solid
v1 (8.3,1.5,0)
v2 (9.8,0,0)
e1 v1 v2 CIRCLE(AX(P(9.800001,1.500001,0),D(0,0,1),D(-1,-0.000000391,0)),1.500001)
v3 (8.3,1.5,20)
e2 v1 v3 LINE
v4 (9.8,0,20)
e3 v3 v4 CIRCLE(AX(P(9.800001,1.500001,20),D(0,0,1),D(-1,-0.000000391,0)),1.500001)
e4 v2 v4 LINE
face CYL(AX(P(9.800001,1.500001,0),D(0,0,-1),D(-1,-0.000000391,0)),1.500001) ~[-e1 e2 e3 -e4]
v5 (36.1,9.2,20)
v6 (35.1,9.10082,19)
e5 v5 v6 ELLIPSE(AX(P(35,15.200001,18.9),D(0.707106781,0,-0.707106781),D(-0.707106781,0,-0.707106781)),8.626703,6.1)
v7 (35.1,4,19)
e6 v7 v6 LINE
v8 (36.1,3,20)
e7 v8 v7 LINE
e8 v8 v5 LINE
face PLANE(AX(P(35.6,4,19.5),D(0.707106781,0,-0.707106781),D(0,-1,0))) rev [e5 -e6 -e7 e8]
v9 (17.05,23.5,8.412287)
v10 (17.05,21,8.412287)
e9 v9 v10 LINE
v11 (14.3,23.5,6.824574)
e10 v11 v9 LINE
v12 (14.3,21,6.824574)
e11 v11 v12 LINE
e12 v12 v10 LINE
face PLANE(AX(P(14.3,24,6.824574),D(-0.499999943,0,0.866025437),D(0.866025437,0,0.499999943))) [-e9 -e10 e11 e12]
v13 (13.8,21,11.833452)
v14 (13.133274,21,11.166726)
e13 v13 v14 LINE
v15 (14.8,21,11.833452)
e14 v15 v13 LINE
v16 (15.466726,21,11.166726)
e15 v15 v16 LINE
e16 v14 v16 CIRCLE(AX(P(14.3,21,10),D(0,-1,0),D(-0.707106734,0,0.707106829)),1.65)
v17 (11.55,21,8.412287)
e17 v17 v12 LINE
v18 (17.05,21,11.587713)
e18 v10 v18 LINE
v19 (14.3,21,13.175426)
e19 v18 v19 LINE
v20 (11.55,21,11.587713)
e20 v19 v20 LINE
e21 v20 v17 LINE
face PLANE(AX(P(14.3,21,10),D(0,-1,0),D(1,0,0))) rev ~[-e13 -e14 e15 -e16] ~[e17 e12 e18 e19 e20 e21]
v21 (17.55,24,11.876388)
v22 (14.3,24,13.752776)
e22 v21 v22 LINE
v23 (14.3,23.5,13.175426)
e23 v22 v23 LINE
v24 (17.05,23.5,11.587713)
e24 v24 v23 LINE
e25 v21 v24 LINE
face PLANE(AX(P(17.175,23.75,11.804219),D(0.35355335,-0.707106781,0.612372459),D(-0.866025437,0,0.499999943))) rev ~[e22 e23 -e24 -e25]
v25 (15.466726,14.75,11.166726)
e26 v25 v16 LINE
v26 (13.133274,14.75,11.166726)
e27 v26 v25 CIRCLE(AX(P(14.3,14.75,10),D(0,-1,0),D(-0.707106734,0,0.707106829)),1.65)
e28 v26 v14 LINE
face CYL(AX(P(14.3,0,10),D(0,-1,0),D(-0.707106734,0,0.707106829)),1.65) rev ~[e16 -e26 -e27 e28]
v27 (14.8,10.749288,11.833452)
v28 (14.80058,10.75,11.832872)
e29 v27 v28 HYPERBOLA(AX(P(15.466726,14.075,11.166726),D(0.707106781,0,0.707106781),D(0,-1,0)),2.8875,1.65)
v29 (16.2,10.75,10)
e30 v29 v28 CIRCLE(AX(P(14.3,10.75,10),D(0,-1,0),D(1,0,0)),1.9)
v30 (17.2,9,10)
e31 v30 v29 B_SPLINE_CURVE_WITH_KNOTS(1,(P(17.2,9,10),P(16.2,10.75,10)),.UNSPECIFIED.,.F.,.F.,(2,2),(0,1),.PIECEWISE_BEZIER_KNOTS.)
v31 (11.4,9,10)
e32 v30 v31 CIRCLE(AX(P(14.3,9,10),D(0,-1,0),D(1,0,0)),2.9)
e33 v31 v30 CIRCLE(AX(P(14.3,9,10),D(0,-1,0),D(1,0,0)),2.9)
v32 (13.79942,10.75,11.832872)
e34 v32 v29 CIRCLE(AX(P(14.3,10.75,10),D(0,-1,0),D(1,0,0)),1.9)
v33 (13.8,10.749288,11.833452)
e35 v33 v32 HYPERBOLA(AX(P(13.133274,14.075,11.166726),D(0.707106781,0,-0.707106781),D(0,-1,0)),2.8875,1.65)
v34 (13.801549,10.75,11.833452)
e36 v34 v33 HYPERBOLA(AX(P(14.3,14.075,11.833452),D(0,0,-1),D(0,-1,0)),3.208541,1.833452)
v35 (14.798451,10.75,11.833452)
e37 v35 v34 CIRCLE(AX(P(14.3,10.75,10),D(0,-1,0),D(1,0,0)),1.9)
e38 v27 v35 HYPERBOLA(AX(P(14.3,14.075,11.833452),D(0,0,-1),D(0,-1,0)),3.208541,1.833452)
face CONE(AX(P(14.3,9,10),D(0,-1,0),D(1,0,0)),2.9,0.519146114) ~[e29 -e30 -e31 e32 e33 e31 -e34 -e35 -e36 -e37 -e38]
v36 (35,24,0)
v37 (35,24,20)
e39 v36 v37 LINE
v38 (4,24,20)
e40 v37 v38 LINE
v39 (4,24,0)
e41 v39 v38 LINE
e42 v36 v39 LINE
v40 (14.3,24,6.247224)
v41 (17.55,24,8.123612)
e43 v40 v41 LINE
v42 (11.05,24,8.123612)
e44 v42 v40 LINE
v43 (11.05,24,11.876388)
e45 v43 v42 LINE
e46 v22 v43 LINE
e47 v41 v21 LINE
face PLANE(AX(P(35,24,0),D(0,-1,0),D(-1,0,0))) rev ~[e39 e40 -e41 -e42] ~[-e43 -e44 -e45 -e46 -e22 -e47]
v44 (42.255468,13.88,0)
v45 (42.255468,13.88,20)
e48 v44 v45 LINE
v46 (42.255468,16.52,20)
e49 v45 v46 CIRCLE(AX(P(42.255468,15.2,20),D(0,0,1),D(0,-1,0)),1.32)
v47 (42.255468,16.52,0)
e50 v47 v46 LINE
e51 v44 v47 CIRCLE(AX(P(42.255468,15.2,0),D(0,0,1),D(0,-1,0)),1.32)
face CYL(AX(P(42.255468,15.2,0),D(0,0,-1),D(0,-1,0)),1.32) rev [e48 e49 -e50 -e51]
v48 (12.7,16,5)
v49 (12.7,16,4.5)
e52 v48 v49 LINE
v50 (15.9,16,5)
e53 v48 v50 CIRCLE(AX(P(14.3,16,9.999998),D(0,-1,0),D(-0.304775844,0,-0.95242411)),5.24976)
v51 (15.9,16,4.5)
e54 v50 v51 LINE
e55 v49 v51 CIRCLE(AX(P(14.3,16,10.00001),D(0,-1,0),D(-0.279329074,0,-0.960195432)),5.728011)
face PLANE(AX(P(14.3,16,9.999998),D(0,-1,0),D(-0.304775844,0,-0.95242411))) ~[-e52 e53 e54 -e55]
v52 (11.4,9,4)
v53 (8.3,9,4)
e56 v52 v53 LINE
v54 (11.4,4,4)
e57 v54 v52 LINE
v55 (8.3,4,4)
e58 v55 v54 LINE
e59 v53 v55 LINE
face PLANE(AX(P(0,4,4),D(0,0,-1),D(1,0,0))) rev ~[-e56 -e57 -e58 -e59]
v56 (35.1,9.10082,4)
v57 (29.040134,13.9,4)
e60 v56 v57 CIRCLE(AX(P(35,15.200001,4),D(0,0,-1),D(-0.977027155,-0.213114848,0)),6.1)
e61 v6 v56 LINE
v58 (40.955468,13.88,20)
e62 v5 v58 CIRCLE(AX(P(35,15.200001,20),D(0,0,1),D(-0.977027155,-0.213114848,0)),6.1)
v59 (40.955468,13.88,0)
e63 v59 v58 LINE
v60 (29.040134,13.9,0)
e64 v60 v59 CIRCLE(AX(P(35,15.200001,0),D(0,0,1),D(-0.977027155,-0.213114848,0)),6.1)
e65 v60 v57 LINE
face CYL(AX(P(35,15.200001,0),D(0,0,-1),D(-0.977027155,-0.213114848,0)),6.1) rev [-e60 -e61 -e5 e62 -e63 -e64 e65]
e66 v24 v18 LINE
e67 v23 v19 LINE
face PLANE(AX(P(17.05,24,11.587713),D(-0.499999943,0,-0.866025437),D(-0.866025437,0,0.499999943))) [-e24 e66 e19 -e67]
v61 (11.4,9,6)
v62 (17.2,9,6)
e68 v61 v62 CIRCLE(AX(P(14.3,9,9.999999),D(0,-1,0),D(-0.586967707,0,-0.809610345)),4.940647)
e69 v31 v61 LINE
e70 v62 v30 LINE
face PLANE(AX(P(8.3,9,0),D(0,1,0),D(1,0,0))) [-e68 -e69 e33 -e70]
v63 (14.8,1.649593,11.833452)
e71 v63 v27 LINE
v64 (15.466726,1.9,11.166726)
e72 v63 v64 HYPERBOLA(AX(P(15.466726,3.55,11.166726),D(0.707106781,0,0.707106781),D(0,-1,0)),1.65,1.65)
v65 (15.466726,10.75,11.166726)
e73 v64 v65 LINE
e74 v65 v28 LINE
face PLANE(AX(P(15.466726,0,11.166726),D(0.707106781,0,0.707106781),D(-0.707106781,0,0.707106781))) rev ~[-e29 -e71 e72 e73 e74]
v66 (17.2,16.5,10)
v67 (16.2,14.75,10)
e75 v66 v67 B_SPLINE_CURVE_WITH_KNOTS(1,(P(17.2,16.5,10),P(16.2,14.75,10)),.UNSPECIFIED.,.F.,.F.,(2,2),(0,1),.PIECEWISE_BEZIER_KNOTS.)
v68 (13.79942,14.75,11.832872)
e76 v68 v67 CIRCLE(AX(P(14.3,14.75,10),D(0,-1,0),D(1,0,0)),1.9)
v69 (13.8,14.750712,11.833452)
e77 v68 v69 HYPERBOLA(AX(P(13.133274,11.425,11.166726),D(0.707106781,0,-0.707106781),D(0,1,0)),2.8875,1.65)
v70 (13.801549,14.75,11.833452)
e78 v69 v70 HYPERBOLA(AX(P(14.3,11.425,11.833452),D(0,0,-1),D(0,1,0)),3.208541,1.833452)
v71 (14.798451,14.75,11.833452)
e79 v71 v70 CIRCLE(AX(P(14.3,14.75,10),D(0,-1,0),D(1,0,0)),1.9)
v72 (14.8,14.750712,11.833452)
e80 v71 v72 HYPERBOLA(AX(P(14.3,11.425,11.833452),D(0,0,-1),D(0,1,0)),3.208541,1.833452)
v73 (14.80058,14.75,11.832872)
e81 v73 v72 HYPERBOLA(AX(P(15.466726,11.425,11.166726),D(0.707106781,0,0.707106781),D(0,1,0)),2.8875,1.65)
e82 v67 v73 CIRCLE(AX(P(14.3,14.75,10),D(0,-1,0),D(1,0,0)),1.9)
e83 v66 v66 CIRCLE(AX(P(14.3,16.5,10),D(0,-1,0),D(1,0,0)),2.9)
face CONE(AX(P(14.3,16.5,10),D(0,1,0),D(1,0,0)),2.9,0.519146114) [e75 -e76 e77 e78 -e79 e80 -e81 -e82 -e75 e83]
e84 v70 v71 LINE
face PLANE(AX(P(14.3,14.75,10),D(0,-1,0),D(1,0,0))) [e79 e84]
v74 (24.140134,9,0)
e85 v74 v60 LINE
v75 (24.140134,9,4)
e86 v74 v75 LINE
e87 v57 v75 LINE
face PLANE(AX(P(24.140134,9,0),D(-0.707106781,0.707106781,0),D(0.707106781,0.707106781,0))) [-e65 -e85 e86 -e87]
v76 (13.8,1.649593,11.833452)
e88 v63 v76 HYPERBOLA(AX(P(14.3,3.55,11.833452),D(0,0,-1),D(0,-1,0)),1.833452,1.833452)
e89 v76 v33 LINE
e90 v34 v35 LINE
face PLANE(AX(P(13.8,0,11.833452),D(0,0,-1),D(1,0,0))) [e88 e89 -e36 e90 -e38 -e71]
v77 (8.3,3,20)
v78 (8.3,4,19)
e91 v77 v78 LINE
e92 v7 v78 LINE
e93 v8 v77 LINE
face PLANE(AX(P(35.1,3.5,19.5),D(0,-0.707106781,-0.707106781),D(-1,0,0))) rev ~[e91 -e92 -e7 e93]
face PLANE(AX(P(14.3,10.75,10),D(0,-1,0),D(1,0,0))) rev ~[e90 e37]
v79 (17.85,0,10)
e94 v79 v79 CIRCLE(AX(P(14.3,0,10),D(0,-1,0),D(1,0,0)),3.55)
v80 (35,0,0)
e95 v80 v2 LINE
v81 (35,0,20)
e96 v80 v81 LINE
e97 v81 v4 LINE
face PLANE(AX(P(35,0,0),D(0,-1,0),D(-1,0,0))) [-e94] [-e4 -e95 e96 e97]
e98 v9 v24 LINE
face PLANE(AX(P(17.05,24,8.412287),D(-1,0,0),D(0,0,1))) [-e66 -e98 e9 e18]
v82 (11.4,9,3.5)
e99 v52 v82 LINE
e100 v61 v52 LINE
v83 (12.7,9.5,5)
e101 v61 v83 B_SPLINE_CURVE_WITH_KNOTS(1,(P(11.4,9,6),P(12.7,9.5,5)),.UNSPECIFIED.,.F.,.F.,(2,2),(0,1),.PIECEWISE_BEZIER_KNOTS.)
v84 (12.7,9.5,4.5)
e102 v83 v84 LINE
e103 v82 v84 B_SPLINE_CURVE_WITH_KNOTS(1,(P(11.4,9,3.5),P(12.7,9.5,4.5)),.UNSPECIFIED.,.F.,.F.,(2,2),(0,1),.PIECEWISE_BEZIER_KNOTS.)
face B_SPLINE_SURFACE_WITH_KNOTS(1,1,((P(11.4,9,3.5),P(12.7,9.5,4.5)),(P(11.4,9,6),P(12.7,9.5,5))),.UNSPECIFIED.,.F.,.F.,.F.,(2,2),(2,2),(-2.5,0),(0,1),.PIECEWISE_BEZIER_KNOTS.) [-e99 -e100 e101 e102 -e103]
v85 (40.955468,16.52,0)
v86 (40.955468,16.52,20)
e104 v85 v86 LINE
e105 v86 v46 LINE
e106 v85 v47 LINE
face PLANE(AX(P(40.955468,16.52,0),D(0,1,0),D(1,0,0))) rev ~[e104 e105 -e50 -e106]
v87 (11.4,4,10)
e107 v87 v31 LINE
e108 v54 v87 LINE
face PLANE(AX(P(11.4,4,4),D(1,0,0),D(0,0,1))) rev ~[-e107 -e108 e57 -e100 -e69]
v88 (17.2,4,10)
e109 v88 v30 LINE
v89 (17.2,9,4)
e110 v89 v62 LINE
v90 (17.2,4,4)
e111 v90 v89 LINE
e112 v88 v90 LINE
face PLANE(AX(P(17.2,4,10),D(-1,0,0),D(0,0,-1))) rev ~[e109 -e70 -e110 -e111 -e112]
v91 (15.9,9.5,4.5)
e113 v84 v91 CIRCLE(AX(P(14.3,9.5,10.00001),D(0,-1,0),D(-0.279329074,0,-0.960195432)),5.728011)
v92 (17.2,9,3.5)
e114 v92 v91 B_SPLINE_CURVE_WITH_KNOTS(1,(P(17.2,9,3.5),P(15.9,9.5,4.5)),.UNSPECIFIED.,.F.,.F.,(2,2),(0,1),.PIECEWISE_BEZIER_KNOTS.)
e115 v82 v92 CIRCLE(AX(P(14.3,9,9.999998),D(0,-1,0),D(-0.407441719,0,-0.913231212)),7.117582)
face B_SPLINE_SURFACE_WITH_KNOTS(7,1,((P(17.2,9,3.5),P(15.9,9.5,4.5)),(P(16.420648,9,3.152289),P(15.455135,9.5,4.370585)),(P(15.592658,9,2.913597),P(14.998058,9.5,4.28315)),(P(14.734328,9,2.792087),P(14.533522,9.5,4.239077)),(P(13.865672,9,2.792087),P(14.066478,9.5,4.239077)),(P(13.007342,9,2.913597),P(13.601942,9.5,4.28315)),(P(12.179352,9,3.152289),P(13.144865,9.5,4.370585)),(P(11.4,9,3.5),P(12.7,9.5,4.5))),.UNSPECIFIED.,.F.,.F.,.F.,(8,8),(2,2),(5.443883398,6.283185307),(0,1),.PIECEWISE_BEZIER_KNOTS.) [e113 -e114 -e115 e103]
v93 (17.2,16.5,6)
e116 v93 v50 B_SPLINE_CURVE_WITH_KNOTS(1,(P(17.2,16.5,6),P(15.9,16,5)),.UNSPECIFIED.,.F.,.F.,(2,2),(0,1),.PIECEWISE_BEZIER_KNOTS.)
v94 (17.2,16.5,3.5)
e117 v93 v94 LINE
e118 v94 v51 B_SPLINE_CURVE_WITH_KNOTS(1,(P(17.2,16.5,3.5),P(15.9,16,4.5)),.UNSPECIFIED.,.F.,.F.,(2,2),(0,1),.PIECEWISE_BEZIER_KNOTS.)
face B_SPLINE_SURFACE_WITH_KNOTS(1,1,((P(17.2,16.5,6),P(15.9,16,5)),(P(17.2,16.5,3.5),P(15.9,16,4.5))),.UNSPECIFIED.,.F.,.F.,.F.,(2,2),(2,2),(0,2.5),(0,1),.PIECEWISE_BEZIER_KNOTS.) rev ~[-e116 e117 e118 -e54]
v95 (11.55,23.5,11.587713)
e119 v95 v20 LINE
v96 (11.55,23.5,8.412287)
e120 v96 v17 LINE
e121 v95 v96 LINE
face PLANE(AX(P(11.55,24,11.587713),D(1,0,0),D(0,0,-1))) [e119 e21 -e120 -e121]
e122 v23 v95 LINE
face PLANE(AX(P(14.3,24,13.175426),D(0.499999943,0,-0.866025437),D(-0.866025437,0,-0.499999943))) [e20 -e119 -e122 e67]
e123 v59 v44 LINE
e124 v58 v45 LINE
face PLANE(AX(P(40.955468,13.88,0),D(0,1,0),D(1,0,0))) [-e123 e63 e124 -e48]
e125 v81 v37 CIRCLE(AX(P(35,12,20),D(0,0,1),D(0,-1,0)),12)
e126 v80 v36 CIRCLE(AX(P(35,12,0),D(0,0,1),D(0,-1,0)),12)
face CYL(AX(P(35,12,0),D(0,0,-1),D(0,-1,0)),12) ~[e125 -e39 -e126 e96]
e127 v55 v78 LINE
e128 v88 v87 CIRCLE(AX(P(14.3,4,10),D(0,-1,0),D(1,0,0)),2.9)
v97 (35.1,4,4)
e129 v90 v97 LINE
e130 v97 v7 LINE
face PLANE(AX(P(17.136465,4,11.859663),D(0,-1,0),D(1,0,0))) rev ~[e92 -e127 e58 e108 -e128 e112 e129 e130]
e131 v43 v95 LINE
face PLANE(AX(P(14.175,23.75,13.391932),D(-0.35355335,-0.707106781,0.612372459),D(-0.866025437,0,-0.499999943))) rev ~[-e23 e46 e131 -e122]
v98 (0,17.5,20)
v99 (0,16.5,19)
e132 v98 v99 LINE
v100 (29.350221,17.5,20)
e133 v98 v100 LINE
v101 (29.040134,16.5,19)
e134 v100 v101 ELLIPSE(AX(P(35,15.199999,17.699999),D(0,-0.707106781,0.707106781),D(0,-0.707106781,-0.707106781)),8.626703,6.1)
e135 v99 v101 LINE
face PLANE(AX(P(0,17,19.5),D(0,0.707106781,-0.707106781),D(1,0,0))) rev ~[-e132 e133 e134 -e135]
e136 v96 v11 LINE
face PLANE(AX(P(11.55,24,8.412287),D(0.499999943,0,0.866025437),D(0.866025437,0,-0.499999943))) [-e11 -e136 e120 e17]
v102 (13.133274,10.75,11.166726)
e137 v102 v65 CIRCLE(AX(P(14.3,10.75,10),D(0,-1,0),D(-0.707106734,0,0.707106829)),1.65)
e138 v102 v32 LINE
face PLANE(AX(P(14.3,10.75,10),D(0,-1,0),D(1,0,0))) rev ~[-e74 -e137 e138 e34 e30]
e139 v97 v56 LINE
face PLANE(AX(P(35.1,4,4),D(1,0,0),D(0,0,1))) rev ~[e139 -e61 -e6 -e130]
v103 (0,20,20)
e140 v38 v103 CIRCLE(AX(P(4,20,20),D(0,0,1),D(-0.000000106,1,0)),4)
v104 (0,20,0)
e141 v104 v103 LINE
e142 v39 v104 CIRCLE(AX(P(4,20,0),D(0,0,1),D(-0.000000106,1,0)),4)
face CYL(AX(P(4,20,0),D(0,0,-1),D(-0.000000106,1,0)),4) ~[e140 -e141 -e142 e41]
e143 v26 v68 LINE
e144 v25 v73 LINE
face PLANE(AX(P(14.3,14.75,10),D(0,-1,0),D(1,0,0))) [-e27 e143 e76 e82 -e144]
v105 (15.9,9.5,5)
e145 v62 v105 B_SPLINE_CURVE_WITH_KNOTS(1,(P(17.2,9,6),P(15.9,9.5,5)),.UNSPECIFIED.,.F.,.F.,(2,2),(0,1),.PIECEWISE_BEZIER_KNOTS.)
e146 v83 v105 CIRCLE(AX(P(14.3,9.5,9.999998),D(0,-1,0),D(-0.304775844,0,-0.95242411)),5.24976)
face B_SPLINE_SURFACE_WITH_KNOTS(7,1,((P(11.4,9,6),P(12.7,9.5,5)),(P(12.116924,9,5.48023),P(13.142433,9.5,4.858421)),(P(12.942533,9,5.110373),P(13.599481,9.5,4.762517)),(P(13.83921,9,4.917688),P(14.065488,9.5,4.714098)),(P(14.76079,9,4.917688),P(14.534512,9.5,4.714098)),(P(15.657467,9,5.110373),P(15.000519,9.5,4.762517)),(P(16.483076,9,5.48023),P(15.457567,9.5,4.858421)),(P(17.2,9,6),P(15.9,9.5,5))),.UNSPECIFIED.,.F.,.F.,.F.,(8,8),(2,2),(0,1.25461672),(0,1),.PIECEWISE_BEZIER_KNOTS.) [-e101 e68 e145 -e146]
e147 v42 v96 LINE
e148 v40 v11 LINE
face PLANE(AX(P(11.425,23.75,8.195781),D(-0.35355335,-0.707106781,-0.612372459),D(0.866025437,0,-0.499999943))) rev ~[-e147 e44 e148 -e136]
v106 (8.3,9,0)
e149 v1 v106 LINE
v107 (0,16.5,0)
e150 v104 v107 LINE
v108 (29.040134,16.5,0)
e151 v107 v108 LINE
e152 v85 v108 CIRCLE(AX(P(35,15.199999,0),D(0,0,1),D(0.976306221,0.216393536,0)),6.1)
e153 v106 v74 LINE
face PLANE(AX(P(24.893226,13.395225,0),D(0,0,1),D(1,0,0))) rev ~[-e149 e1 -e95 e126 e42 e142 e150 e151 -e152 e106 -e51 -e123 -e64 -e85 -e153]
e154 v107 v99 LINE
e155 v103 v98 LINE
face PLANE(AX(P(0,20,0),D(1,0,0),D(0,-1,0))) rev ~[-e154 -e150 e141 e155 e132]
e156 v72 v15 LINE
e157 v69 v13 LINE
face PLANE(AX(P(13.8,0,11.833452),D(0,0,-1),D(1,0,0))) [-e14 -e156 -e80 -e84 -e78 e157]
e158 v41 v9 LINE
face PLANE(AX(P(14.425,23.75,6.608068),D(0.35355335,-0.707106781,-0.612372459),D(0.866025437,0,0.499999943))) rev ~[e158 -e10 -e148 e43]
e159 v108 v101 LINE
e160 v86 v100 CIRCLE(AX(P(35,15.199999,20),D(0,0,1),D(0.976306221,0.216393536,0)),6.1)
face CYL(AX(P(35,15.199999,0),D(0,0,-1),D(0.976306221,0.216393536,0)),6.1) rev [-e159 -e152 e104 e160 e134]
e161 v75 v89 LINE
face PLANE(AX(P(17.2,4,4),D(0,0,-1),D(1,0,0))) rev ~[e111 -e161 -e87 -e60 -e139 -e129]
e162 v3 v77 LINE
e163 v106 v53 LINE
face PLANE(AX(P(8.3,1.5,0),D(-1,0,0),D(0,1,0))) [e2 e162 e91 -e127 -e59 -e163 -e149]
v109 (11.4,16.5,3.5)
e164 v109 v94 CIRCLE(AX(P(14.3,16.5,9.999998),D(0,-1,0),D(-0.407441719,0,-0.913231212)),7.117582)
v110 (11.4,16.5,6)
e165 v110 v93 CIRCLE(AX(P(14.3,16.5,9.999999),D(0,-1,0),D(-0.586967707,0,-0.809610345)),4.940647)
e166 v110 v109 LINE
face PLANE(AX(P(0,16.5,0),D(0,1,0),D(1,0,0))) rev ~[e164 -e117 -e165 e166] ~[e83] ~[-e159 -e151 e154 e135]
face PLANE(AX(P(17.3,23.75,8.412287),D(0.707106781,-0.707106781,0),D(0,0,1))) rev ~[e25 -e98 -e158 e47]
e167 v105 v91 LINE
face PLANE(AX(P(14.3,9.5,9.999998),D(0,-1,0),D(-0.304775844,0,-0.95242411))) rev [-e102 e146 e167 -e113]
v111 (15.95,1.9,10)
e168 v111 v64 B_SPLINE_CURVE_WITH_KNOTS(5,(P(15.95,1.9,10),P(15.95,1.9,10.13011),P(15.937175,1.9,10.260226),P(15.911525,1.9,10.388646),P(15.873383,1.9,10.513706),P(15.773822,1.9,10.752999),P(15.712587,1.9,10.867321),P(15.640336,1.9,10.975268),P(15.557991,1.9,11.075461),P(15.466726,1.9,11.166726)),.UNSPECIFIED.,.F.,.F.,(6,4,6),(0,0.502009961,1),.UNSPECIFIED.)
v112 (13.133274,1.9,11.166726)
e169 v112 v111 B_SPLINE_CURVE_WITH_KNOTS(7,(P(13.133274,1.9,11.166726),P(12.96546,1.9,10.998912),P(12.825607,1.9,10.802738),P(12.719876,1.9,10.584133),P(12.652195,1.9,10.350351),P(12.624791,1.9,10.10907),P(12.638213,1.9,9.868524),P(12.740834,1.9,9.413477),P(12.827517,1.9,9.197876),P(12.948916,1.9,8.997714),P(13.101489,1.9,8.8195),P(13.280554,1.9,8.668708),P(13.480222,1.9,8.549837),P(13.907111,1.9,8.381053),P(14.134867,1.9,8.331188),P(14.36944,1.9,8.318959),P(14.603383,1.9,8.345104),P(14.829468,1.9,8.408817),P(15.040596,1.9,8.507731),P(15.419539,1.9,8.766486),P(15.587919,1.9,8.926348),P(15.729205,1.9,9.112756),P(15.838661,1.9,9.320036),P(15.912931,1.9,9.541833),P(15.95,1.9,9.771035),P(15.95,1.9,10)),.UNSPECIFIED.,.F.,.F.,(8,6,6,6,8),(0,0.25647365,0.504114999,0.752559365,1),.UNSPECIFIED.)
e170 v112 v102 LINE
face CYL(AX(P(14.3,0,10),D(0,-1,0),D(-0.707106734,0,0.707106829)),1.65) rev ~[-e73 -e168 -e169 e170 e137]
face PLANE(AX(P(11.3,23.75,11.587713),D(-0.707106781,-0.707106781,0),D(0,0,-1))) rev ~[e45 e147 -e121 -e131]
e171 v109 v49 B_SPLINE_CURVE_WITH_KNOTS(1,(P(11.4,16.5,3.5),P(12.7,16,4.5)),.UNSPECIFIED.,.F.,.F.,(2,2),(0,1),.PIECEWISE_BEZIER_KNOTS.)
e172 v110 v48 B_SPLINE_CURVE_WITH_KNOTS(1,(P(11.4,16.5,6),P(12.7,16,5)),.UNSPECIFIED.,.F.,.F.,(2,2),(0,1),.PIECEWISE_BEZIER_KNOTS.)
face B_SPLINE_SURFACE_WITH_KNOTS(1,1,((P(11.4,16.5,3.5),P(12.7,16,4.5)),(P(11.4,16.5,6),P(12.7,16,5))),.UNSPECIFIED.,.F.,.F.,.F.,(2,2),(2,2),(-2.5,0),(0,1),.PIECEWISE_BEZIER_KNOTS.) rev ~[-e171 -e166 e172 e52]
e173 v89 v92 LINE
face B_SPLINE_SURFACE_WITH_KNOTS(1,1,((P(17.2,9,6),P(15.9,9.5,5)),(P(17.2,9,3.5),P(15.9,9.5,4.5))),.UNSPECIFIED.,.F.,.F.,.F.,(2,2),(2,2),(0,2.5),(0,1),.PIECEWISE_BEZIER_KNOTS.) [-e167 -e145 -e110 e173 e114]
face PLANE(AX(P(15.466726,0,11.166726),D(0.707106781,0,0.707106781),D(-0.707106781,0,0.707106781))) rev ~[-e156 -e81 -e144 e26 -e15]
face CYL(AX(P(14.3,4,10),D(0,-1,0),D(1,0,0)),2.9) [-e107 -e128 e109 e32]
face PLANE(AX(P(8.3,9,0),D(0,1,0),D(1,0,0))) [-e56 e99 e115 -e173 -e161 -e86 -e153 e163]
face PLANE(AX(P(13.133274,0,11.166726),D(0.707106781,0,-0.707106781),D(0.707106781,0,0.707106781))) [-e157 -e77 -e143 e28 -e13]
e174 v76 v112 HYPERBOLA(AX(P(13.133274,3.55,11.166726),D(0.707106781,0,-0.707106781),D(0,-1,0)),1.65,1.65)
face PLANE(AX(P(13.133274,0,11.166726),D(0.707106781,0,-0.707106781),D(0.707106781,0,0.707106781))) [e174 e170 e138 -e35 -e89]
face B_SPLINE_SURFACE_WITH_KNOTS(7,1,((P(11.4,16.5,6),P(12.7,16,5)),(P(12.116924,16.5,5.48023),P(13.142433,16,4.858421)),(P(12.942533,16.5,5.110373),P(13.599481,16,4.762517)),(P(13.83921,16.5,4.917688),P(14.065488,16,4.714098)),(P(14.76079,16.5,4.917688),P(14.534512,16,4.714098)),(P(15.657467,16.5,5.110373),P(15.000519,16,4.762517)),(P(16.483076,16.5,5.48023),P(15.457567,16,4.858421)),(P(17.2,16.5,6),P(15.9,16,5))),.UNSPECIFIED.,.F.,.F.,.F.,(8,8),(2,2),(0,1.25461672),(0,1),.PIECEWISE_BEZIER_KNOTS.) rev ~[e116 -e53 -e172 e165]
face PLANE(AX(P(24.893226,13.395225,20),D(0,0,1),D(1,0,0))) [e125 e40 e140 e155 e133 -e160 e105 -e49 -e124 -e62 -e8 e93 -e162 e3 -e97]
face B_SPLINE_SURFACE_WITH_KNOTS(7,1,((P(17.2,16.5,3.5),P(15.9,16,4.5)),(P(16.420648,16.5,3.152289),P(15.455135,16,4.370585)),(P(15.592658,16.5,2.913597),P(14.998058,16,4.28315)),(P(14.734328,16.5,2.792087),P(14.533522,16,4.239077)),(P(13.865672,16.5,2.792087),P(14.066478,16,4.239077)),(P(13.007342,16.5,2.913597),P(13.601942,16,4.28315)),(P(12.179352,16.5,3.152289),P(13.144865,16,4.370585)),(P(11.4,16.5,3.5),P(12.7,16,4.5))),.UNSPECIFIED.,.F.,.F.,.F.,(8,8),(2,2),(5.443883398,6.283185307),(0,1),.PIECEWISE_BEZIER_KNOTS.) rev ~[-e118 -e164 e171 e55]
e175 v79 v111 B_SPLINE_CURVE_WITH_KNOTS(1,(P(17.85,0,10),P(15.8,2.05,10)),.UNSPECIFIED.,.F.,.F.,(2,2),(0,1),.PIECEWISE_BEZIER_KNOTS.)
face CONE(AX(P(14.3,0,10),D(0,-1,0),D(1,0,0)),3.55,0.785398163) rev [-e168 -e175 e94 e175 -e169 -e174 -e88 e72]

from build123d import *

# Parameters (mm, degrees)
PAD_DEPTH       = 20
POCKET_DEPTH    = 12
SKETCH002_R     = 2.9
SKETCH003_R     = 1.9
SKETCH004_R     = 2.9
SKETCH005_R     = 1.9
POCKET001_DEPTH = 24.001
POCKET002_DEPTH = 3
SKETCH012_R     = 3.55
SKETCH013_R     = 1.5
CHAMFER_SIZE    = 0.5
CHAMFER001_SIZE = 1


with BuildPart() as part:
    # Sketch → Pad (new body)
    with BuildSketch(Plane.XY):
        with BuildLine():
            ThreePointArc((35, 0), (47, 12), (35, 24))
            Line((35, 24), (4, 24))
            ThreePointArc((4, 24), (1.171573, 22.828427), (0, 20))
            Line((0, 20), (0, 16.5))
            Line((0, 16.5), (29.040134, 16.5))
            ThreePointArc((40.955468, 16.52), (34.989761, 21.299991), (29.040134, 16.5))
            Line((40.955468, 16.52), (42.255468, 16.52))
            ThreePointArc((42.255468, 13.88), (43.575468, 15.2), (42.255468, 16.52))
            Line((40.955468, 13.88), (42.255468, 13.88))
            ThreePointArc((29.040134, 13.9), (34.989761, 9.100009), (40.955468, 13.88))
            Line((24.140134, 9), (29.040134, 13.9))
            Line((8.3, 9), (24.140134, 9))
            Line((8.3, 1.5), (8.3, 9))
            ThreePointArc((8.3, 1.5), (8.73934, 0.43934), (9.8, 0))
            Line((35, 0), (9.8, 0))
        make_face()
    extrude(amount=PAD_DEPTH)

    # Sketch001 → Pocket (cut)
    with BuildSketch(Plane.XZ.offset(-4)):
        with BuildLine():
            Line((17.2, 10), (17.2, 4))
            Line((17.2, 4), (35.1, 4))
            Line((35.1, 4), (35.1, 20))
            Line((35.1, 20), (0, 20))
            Line((0, 20), (0, 4))
            Line((0, 4), (11.4, 4))
            Line((11.4, 4), (11.4, 10))
            ThreePointArc((17.2, 10), (14.3, 12.9), (11.4, 10))
        make_face()
    extrude(amount=-POCKET_DEPTH, mode=Mode.SUBTRACT)

    # Sketch002 → AdditiveLoft section 0
    with BuildSketch(Plane.XZ.offset(-9)):
        with Locations((14.3, 10)):
            Circle(SKETCH002_R)
    # Sketch003 → AdditiveLoft section 1
    with BuildSketch(Plane.XZ.offset(-10.75)):
        with Locations((14.3, 10)):
            Circle(SKETCH003_R)
    loft()

    # Sketch004 → AdditiveLoft001 section 0
    with BuildSketch(Plane.XZ.offset(-16.5)):
        with Locations((14.3, 10)):
            Circle(SKETCH004_R)
    # Sketch005 → AdditiveLoft001 section 1
    with BuildSketch(Plane.XZ.offset(-14.75)):
        with Locations((14.3, 10)):
            Circle(SKETCH005_R)
    loft()

    # Sketch006 → AdditiveLoft002 section 0
    with BuildSketch(Plane.XZ.offset(-9)):
        with BuildLine():
            ThreePointArc((11.4, 6), (14.3, 5.059352), (17.2, 6))
            Line((17.2, 6), (17.2, 3.5))
            ThreePointArc((11.4, 3.5), (14.3, 2.882416), (17.2, 3.5))
            Line((11.4, 6), (11.4, 3.5))
        make_face()
    # Sketch007 → AdditiveLoft002 section 1
    with BuildSketch(Plane.XZ.offset(-9.5)):
        with BuildLine():
            ThreePointArc((12.7, 5), (14.3, 4.750238), (15.9, 5))
            Line((15.9, 5), (15.9, 4.5))
            ThreePointArc((12.7, 4.5), (14.3, 4.271999), (15.9, 4.5))
            Line((12.7, 5), (12.7, 4.5))
        make_face()
    loft()

    # Sketch008 → AdditiveLoft003 section 0
    with BuildSketch(Plane.XZ.offset(-16.5)):
        with BuildLine():
            ThreePointArc((11.4, 6), (14.3, 5.059352), (17.2, 6))
            Line((17.2, 6), (17.2, 3.5))
            ThreePointArc((11.4, 3.5), (14.3, 2.882416), (17.2, 3.5))
            Line((11.4, 6), (11.4, 3.5))
        make_face()
    # Sketch009 → AdditiveLoft003 section 1
    with BuildSketch(Plane.XZ.offset(-16)):
        with BuildLine():
            ThreePointArc((12.7, 5), (14.3, 4.750238), (15.9, 5))
            Line((15.9, 5), (15.9, 4.5))
            ThreePointArc((12.7, 4.5), (14.3, 4.271999), (15.9, 4.5))
            Line((12.7, 5), (12.7, 4.5))
        make_face()
    loft()

    # Sketch010 → Pocket001 (cut, through all)
    with BuildSketch(Plane.XZ):
        with BuildLine():
            ThreePointArc((13.133274, 11.166726), (14.3, 8.35), (15.466726, 11.166726))
            Line((15.466726, 11.166726), (14.8, 11.833452))
            Line((13.8, 11.833452), (14.8, 11.833452))
            Line((13.133274, 11.166726), (13.8, 11.833452))
        make_face()
    extrude(amount=-POCKET001_DEPTH, mode=Mode.SUBTRACT)

    # Sketch011 → Pocket002 (cut)
    with BuildSketch(Plane.XZ.offset(-24)):
        Polygon((11.55, 11.587713), (11.55, 8.412287), (14.3, 6.824574), (17.05, 8.412287), (17.05, 11.587713), (14.3, 13.175426), align=None)
    extrude(amount=POCKET002_DEPTH, mode=Mode.SUBTRACT)

    # Sketch012 → SubtractiveLoft section 0
    with BuildSketch(Plane.XZ):
        with Locations((14.3, 10)):
            Circle(SKETCH012_R)
    # Sketch013 → SubtractiveLoft section 1
    with BuildSketch(Plane.XZ.offset(-2.05)):
        with Locations((14.3, 10)):
            Circle(SKETCH013_R)
    loft(mode=Mode.SUBTRACT)

    # Chamfer
    chamfer_edges = [part.edges().sort_by_distance(p)[0] for p in [
        (15.675, 24, 7.61843),
        (17.05, 24, 10),
        (15.675, 24, 12.38157),
        (12.925, 24, 12.38157),
        (11.55, 24, 10),
        (12.925, 24, 7.61843),
    ]]
    chamfer(chamfer_edges, length=CHAMFER_SIZE)

    # Chamfer001
    chamfer001_edges = [part.edges().sort_by_distance(p)[0] for p in [
        (21.7, 4, 20),
        (35.1, 6.55041, 20),
        (14.520067, 16.5, 20),
    ]]
    chamfer(chamfer001_edges, length=CHAMFER001_SIZE)


solid = part.part
